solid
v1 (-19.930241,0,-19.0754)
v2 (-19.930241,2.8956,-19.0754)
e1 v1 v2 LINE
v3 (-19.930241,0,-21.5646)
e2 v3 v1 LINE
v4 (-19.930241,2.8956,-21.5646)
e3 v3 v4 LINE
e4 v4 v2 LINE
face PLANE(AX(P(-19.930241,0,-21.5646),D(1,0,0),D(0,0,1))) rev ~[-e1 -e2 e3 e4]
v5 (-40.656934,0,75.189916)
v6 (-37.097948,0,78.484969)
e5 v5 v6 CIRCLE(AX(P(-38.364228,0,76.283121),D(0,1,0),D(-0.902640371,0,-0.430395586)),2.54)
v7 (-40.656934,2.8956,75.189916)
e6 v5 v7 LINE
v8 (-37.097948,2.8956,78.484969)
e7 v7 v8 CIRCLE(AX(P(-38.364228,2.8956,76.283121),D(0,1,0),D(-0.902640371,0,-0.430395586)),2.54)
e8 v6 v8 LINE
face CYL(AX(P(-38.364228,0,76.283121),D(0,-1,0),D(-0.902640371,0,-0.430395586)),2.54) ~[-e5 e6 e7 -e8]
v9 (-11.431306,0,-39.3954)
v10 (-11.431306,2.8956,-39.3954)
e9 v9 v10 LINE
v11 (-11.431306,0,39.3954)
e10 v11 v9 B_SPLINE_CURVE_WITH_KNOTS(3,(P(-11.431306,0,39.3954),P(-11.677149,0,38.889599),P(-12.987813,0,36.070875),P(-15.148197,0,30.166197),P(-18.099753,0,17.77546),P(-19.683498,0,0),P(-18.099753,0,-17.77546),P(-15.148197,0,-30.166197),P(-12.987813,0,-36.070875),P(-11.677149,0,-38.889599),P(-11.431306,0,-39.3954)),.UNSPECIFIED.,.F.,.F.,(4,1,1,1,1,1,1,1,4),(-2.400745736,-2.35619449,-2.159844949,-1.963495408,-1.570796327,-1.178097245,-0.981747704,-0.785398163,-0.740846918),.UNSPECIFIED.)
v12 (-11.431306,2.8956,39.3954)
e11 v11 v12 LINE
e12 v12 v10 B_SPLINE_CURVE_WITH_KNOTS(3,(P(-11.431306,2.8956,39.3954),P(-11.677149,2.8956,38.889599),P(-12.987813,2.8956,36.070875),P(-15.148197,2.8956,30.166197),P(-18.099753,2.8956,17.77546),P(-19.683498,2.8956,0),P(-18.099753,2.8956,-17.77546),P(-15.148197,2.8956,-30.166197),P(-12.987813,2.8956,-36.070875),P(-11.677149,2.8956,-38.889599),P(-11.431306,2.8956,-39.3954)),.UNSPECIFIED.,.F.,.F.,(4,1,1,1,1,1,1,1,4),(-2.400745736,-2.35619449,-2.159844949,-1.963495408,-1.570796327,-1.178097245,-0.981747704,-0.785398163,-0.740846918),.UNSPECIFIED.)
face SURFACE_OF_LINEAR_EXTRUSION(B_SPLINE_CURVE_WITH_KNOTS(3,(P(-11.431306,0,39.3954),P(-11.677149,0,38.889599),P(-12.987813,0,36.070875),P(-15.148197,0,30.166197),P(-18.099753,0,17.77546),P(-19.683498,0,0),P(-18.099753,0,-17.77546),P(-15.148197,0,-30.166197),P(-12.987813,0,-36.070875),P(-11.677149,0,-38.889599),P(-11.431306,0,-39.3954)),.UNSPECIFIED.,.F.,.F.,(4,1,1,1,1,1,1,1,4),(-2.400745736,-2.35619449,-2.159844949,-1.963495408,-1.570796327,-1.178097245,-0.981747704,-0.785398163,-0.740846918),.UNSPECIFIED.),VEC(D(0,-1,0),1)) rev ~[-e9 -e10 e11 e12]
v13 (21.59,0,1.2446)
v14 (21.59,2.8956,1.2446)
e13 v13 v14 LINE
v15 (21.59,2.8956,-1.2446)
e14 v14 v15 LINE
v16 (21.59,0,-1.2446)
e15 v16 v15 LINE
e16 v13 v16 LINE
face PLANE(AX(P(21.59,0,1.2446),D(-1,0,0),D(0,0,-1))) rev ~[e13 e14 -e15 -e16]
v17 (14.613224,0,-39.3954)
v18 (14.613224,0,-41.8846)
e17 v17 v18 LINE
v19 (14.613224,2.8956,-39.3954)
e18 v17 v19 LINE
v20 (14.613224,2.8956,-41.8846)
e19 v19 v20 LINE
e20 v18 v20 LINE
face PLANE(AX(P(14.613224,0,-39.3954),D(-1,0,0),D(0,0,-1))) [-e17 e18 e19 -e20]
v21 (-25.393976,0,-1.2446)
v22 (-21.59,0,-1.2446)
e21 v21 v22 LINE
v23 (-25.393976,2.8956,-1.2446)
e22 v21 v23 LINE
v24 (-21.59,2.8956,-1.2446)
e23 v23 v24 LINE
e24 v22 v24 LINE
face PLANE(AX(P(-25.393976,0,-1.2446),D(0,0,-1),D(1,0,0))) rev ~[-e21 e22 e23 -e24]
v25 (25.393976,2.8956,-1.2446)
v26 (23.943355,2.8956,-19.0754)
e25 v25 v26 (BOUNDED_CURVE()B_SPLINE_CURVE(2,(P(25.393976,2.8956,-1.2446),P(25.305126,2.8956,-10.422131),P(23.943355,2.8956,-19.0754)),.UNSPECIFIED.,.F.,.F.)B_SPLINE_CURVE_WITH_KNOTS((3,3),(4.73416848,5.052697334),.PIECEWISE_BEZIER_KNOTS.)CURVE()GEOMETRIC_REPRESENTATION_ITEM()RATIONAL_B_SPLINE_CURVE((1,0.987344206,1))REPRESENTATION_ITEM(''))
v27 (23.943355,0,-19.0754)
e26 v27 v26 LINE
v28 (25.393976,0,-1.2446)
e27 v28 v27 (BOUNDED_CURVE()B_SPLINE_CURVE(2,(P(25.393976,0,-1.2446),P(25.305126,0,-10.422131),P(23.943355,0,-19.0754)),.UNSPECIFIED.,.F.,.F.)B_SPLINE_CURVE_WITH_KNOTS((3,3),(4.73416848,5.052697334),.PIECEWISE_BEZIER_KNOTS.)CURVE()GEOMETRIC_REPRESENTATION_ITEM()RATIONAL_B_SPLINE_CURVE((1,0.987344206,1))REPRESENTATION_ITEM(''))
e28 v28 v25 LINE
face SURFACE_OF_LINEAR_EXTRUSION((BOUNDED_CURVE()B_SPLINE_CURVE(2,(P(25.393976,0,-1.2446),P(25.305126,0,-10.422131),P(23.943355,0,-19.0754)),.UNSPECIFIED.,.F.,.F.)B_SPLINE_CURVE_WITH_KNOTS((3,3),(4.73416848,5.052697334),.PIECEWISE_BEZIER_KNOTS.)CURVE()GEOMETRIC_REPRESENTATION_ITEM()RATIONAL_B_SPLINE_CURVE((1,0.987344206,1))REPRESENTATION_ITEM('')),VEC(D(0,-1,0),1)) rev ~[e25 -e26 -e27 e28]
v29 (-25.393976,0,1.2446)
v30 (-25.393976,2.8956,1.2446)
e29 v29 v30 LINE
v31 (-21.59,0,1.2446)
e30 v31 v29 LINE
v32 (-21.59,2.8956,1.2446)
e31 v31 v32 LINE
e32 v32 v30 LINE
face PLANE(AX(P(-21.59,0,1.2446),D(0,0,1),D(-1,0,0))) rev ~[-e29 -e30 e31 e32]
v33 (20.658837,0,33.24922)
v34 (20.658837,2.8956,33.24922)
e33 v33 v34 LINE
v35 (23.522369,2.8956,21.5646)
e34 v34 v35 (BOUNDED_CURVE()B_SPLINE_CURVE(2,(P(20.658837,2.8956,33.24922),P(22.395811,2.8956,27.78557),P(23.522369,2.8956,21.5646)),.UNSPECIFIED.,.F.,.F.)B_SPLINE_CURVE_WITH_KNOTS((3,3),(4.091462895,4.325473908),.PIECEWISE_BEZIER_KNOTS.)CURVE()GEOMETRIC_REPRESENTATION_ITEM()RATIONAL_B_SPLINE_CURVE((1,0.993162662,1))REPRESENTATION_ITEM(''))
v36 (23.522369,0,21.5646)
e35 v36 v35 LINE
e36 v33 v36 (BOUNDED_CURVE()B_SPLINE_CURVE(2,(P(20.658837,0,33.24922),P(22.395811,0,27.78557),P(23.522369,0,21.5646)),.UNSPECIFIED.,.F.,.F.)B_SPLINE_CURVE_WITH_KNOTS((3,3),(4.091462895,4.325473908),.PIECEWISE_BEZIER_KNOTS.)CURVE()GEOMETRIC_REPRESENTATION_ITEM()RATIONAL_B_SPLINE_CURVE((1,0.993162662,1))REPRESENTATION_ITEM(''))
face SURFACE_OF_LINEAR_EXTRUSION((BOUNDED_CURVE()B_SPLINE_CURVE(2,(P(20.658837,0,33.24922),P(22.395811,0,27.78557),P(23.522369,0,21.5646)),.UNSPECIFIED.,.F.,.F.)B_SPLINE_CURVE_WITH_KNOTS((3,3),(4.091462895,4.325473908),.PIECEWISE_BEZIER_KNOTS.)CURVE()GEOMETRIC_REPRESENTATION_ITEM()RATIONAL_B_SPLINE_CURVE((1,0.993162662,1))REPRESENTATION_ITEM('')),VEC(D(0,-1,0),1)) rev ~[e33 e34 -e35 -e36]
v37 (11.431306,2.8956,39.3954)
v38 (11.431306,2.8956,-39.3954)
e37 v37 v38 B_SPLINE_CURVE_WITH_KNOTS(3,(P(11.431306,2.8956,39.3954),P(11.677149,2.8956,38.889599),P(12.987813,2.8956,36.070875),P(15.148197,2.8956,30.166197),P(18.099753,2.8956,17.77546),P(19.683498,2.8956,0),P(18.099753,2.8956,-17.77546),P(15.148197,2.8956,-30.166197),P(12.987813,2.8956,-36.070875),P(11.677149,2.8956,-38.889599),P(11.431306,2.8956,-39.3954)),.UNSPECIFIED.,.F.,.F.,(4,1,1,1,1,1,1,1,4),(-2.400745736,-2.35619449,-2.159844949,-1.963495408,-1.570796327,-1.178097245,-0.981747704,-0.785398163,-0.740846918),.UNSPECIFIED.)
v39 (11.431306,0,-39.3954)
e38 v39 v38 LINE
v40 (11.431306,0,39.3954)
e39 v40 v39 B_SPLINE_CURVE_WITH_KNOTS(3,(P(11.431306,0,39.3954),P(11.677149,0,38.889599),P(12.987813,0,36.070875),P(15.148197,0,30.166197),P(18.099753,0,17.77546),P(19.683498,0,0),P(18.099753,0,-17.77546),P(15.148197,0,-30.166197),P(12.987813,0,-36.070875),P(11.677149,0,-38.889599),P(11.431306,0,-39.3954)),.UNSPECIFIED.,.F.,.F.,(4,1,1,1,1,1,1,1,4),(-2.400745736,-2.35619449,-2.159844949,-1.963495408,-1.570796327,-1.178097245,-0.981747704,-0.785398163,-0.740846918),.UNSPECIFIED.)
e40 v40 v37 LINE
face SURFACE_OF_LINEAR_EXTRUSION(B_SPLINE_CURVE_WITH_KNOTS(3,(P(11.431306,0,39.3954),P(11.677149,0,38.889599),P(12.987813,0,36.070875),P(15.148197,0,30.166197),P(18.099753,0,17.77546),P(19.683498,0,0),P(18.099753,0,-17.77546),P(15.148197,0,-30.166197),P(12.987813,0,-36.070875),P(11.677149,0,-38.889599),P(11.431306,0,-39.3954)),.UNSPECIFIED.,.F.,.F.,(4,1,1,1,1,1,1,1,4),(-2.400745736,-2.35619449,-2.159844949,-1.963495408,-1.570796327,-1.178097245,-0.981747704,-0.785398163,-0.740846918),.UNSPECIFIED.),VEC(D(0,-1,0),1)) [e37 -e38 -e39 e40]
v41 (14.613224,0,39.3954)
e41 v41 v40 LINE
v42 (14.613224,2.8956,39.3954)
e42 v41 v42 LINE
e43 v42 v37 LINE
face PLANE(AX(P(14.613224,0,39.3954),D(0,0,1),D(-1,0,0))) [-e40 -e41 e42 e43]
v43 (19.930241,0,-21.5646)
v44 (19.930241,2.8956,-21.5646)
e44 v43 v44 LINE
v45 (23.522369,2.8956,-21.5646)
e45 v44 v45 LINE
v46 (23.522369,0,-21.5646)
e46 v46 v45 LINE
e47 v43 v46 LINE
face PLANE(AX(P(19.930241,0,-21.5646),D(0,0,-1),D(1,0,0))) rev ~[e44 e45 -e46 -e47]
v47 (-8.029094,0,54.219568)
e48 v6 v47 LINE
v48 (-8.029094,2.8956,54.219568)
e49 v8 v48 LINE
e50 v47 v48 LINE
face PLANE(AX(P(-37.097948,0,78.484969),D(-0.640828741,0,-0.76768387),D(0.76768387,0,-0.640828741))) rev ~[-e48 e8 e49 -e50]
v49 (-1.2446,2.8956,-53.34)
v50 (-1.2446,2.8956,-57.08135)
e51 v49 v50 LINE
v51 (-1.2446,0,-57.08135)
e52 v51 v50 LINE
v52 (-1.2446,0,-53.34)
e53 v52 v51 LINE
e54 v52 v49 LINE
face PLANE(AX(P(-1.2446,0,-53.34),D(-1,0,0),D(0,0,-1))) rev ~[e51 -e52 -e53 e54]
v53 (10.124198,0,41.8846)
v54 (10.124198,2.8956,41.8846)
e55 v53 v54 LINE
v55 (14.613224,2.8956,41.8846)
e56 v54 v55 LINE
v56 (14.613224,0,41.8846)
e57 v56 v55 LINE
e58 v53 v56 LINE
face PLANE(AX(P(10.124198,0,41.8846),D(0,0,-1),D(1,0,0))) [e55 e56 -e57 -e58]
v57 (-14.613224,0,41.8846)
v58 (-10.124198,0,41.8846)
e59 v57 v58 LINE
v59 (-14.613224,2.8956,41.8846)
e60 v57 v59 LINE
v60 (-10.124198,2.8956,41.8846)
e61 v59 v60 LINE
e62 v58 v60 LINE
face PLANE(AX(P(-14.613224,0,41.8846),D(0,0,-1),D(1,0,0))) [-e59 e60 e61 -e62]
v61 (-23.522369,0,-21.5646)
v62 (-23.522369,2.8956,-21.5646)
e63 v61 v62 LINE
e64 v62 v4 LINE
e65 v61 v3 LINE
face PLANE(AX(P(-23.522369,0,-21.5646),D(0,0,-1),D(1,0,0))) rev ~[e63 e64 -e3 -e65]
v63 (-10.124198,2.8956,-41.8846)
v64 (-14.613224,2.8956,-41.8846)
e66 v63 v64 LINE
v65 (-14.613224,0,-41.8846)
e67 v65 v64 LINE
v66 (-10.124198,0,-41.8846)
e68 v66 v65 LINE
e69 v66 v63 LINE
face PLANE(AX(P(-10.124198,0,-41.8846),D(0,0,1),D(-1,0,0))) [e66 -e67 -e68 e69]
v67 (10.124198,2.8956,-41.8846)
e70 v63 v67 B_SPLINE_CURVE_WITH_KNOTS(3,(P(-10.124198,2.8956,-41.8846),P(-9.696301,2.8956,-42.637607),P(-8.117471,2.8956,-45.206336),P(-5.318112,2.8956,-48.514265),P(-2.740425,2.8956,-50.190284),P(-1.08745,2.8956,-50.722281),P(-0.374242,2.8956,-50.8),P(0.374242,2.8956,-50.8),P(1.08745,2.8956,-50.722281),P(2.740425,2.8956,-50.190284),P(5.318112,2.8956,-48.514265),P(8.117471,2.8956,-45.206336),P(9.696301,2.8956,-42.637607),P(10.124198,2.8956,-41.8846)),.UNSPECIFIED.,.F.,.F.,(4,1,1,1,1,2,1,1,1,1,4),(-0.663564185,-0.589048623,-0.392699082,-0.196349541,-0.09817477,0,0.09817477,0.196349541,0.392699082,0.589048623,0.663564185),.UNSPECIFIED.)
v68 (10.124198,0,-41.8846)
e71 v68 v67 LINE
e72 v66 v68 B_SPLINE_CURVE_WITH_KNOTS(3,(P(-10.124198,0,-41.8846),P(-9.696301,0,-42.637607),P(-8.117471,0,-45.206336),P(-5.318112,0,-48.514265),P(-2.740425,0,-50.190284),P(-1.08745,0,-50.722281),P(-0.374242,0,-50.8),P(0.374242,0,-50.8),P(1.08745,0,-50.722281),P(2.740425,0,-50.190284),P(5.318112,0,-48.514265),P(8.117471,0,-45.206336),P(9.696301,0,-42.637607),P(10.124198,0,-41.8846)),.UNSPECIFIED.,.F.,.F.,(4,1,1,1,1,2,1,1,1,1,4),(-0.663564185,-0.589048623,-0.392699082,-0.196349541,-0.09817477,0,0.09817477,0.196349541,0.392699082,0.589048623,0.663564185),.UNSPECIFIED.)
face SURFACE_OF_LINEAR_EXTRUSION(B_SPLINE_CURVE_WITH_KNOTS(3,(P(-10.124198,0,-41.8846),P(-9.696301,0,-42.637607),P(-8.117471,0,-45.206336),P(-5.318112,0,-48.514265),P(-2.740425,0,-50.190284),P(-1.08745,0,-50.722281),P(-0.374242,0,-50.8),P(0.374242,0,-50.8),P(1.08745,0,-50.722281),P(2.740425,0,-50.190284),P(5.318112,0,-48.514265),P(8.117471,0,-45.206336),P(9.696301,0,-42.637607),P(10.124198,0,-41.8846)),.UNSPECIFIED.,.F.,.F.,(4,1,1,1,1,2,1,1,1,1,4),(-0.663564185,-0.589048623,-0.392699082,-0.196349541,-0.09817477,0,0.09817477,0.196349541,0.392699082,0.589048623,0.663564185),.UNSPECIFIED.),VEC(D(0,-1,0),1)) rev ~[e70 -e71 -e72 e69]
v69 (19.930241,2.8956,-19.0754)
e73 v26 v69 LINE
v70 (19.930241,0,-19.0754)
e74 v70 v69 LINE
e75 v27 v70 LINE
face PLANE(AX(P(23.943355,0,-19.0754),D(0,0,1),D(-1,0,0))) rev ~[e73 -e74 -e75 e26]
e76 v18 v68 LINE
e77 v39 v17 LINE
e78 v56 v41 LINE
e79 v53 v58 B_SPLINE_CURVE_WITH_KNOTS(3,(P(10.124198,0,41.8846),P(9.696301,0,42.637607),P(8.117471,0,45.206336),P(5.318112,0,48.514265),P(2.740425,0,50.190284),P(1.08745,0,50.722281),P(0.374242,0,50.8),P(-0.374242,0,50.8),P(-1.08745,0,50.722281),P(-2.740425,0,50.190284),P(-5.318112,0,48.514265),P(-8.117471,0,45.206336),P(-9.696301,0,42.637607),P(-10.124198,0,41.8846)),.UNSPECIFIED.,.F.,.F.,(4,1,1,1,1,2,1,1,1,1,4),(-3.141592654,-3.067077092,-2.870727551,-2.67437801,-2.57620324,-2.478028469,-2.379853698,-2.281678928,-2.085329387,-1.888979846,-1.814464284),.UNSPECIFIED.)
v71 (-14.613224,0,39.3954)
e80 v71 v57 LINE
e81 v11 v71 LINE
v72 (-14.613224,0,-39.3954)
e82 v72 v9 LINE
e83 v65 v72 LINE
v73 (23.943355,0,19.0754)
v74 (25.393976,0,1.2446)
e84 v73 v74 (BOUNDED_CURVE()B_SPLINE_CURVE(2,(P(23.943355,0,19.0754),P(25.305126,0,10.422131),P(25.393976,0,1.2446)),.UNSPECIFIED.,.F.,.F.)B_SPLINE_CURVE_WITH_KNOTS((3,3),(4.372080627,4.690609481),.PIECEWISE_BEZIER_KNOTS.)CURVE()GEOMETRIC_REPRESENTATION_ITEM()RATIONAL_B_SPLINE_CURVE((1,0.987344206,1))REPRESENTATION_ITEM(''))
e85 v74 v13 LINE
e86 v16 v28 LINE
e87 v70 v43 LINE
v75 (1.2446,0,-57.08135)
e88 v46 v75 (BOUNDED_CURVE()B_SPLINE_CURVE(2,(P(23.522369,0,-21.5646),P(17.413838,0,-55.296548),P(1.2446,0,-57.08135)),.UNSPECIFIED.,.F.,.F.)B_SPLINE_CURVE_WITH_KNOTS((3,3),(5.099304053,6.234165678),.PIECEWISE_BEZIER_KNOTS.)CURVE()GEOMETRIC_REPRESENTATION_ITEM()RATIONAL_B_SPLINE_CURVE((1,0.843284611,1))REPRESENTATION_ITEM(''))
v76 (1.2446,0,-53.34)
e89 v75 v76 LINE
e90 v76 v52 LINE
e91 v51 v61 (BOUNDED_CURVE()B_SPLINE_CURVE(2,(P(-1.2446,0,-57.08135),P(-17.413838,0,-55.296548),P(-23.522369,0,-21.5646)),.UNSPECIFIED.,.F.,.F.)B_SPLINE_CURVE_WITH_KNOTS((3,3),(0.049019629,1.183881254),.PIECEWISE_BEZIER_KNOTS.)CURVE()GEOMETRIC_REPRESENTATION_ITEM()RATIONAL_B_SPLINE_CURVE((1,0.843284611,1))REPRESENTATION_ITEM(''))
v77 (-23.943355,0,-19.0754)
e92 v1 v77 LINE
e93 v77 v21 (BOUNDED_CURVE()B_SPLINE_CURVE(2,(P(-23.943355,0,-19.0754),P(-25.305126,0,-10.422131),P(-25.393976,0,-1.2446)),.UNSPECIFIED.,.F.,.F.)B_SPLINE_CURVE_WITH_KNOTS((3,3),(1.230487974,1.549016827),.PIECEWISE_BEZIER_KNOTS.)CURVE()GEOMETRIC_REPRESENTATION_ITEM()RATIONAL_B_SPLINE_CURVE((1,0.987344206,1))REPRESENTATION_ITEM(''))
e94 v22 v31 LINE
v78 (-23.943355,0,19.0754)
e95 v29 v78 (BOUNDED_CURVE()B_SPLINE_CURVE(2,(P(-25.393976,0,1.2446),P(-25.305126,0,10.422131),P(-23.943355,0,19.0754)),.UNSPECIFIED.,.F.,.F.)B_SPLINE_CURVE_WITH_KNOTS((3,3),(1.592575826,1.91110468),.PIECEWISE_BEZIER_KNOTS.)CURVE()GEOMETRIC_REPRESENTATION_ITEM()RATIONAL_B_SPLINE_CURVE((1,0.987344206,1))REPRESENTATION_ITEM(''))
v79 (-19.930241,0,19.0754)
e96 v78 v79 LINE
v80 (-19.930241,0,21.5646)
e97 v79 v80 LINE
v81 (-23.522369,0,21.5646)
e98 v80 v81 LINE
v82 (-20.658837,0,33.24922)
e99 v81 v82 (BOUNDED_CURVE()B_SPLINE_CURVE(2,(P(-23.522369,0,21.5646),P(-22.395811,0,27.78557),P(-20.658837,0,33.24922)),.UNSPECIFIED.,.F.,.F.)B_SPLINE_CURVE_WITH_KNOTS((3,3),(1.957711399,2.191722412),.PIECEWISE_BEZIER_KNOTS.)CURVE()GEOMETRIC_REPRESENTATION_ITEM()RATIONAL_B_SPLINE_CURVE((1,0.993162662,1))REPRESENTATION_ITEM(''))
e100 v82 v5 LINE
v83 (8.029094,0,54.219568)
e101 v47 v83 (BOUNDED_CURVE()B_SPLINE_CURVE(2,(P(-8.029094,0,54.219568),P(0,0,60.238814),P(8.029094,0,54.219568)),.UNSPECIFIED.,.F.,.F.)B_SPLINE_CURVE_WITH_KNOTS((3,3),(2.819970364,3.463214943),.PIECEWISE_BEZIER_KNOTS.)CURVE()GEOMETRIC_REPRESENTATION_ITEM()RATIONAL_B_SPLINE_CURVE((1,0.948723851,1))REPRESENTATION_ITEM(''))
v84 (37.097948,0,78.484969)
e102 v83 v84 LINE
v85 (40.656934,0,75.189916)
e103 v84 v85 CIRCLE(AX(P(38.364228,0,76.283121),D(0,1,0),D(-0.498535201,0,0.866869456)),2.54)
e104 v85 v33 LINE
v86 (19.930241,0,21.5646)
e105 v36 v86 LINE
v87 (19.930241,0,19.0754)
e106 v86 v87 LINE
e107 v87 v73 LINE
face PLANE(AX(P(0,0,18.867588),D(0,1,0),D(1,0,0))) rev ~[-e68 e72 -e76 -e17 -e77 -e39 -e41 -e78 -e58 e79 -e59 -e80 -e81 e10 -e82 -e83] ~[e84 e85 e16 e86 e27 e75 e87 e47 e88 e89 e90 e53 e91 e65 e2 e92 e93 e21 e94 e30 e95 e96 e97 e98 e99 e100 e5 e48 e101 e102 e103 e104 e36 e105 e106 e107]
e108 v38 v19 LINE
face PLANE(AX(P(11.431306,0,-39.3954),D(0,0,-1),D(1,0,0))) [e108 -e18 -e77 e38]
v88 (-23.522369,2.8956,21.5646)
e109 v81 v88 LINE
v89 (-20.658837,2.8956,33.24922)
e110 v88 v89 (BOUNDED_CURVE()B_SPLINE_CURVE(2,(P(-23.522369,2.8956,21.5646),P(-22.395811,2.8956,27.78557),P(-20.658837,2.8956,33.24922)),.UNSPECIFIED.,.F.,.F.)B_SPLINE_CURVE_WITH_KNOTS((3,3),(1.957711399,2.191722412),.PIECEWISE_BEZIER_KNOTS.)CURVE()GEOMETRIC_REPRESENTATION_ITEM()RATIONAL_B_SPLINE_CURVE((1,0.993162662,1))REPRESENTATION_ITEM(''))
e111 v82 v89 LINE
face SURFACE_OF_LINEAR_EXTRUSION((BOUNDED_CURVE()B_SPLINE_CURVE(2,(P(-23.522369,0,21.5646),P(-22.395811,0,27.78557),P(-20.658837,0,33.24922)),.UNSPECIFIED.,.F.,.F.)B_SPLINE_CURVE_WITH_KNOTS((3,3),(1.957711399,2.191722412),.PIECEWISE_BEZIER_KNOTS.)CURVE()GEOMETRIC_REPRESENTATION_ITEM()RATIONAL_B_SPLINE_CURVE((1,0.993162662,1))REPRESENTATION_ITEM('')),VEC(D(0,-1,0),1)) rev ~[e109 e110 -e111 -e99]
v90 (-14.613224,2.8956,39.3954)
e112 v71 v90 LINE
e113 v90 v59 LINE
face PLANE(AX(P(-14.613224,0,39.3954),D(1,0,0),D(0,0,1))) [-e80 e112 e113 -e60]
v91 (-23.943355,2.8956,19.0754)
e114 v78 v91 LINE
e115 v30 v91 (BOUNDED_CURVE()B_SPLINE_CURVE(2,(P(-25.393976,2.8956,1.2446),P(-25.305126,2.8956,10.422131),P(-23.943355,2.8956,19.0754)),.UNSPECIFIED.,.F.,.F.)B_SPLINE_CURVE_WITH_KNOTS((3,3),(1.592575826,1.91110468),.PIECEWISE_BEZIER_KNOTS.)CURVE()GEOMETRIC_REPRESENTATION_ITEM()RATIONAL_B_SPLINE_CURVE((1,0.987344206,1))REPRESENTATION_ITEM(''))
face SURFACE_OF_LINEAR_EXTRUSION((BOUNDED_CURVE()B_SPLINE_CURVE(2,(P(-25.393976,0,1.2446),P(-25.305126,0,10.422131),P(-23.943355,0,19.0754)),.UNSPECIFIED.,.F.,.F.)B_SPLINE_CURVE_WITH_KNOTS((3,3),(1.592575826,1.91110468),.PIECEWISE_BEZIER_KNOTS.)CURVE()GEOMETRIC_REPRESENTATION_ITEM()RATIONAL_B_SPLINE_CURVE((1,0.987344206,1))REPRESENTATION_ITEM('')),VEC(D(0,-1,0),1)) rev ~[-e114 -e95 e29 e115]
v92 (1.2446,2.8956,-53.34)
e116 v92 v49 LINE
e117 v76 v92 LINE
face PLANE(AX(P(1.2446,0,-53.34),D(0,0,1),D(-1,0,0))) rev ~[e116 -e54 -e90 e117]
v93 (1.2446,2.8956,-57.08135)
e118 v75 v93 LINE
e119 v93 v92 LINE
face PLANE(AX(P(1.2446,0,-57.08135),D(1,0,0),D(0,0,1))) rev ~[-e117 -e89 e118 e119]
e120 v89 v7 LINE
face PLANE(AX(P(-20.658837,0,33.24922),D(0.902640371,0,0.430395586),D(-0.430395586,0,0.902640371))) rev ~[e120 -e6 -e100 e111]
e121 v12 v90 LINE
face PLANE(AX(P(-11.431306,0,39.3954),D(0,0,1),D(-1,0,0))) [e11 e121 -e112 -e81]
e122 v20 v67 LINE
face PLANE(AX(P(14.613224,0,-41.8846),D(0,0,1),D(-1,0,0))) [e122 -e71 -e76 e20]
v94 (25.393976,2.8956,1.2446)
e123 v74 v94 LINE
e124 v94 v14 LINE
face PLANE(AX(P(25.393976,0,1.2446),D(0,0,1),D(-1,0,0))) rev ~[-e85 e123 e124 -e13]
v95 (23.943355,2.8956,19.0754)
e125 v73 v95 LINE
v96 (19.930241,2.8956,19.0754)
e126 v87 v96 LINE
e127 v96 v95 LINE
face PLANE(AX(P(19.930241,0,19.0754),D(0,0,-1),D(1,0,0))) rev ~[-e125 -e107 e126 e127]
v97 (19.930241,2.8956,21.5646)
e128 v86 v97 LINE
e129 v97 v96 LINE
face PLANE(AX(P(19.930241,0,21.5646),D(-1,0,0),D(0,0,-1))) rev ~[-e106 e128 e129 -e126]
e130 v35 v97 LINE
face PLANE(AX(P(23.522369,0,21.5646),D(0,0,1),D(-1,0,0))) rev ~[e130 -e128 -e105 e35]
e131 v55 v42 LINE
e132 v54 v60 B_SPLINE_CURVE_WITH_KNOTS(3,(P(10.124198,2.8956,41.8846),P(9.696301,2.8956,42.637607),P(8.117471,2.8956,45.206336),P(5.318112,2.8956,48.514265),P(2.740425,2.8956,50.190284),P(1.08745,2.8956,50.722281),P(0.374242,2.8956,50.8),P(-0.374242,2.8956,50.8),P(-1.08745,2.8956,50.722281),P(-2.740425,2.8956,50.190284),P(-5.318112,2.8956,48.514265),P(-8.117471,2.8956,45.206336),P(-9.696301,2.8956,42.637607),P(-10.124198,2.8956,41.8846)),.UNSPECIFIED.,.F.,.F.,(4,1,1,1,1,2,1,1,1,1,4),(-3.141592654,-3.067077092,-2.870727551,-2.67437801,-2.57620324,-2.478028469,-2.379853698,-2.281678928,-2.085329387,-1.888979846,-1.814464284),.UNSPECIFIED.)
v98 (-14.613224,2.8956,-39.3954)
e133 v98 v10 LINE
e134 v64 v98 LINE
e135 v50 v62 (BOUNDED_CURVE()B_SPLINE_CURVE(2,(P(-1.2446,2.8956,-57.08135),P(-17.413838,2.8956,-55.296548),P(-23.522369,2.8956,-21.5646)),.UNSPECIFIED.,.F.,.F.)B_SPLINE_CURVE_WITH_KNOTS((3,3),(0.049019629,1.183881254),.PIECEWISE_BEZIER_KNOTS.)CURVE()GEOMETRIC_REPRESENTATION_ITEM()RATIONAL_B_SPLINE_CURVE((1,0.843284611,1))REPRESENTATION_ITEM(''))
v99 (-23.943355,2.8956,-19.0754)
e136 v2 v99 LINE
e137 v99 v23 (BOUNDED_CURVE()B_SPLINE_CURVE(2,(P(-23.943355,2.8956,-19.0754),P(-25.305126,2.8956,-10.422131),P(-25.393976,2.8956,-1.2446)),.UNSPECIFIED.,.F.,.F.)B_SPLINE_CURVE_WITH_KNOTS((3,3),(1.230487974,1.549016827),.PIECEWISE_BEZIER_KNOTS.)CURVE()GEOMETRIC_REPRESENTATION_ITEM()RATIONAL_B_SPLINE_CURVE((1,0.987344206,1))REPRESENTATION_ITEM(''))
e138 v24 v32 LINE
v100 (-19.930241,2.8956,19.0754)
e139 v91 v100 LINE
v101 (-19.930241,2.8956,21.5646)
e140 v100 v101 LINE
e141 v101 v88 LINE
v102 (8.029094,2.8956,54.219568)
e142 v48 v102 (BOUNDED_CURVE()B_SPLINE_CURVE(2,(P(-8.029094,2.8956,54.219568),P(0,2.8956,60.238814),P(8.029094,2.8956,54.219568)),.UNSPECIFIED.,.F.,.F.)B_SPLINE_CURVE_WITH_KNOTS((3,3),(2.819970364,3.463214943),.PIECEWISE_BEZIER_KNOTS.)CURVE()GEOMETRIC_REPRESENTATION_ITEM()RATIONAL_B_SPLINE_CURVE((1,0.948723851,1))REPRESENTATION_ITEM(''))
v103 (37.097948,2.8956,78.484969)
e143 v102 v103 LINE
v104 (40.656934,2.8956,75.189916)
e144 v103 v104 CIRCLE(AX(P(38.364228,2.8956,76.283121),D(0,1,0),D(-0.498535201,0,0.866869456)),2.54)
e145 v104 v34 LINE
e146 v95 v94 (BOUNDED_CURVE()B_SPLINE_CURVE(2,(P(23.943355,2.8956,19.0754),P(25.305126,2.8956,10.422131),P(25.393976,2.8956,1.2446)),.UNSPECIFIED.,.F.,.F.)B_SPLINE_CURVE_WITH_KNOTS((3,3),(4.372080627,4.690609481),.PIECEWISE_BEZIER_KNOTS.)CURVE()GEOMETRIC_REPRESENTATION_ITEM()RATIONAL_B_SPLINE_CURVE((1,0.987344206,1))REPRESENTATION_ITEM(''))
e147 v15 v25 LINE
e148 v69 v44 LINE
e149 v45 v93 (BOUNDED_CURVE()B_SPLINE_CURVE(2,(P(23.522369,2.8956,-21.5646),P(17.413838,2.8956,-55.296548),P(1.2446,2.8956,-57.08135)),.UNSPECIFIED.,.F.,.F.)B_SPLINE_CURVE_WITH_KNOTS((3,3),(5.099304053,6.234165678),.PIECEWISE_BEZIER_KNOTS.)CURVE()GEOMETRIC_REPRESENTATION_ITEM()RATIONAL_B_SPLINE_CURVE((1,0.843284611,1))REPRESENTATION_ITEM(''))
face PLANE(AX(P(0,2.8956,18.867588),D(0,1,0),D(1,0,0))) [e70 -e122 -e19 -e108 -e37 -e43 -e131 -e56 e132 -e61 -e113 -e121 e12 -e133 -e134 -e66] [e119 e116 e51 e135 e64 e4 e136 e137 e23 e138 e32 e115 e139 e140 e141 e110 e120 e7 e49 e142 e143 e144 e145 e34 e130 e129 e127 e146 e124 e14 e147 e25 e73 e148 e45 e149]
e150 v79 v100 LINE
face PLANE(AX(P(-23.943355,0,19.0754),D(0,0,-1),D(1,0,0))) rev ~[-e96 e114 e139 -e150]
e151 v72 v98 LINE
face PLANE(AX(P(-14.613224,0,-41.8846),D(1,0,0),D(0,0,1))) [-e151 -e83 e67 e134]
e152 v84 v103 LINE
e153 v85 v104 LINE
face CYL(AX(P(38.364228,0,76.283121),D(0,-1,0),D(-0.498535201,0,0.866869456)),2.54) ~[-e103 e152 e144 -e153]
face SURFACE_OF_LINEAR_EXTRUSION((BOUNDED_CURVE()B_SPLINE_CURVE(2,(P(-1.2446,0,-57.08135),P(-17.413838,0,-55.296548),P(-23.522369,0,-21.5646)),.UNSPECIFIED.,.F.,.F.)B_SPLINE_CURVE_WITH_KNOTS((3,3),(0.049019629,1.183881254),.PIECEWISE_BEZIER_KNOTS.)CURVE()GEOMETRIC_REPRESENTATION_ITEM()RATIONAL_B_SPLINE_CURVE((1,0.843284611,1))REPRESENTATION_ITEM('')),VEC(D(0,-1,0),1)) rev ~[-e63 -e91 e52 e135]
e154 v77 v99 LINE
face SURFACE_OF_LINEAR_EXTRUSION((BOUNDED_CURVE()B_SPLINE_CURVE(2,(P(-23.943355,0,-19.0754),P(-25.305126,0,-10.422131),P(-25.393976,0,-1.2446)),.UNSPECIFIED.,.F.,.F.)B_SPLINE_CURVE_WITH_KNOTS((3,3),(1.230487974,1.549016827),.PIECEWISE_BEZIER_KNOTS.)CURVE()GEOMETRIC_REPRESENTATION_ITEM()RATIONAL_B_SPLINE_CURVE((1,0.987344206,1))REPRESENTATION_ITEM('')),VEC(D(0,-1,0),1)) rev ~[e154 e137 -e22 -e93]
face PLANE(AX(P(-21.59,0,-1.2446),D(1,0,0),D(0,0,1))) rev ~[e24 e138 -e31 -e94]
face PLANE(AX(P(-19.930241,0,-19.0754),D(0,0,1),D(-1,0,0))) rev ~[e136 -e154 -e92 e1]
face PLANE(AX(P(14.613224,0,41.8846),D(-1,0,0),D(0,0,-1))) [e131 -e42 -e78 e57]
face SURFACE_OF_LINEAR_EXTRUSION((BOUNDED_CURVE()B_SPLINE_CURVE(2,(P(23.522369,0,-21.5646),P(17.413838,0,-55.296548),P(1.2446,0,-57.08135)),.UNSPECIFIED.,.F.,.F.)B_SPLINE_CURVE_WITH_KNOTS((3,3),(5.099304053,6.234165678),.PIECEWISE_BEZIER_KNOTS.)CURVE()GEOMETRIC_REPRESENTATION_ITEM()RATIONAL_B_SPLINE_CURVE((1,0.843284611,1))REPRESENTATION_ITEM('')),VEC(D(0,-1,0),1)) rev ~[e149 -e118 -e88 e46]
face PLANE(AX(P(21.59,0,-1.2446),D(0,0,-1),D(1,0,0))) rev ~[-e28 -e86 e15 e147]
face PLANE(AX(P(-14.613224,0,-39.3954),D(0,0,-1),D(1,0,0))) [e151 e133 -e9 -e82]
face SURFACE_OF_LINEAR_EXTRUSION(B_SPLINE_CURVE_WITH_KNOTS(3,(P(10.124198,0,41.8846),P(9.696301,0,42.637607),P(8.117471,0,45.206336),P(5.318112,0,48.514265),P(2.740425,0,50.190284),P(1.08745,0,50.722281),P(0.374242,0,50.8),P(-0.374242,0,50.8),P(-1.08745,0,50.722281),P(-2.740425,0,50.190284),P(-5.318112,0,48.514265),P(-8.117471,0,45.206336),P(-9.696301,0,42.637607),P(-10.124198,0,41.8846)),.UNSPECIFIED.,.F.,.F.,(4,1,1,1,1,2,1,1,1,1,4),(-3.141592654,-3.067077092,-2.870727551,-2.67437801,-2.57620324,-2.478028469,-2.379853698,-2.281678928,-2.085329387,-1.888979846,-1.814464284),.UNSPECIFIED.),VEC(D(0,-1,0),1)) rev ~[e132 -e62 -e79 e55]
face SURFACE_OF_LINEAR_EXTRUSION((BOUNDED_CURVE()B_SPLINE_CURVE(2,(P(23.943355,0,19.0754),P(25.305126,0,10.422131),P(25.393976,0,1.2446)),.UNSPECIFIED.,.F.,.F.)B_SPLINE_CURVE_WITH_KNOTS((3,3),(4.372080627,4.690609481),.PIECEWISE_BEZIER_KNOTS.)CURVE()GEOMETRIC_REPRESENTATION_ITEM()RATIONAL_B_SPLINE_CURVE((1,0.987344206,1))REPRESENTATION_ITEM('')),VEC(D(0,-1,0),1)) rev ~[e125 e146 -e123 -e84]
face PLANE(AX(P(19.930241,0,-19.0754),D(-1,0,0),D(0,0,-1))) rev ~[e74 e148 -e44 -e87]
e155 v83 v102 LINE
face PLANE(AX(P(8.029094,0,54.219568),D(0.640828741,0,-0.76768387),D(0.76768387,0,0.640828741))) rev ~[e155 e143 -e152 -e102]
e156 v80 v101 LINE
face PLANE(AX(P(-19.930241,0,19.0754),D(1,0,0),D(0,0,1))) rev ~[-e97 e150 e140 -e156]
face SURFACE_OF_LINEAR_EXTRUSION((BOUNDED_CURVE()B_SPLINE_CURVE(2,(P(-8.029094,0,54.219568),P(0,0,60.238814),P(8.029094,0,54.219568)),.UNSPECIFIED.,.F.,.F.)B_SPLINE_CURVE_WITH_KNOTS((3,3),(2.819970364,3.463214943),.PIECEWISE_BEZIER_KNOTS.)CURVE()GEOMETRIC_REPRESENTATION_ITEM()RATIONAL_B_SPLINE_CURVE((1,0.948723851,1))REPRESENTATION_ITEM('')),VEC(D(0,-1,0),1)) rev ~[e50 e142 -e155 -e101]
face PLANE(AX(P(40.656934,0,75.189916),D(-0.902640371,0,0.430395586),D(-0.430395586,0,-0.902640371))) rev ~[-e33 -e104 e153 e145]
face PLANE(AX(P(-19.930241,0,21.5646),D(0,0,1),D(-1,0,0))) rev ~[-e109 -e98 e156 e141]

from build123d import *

# Parameters (mm, degrees)
BOSS_EXTRUDE2_DEPTH = 2.8956


with BuildPart() as part:
    # Sketch1 → Boss-Extrude2 (new body)
    with BuildSketch(Plane(origin=(0, 0, 0), x_dir=(1, 0, 0), z_dir=(0, 1, 0))):
        with BuildLine():
            Line((21.59, 1.2446), (25.393976036, 1.2446))
            add(Edge.make_bspline(
                [(25.393976036, 1.2446), (25.305125525, 10.422131382), (23.943355437, 19.0754)],
                knots=[4.73416848, 4.73416848, 4.73416848, 5.052697334, 5.052697334, 5.052697334], degree=2, weights=[1, 0.987344206, 1]))
            Line((23.943355437, 19.0754), (19.930240776, 19.0754))
            Line((19.930240776, 19.0754), (19.930240776, 21.5646))
            Line((19.930240776, 21.5646), (23.522368768, 21.5646))
            add(Edge.make_bspline(
                [(23.522368768, 21.5646), (17.413838434, 55.296547713), (1.2446, 57.081350193)],
                knots=[5.099304053, 5.099304053, 5.099304053, 6.234165678, 6.234165678, 6.234165678], degree=2, weights=[1, 0.843284611, 1]))
            Line((1.2446, 57.081350193), (1.2446, 53.34))
            Line((1.2446, 53.34), (-1.2446, 53.34))
            Line((-1.2446, 53.34), (-1.2446, 57.081350193))
            add(Edge.make_bspline(
                [(-1.2446, 57.081350193), (-17.413838434, 55.296547713), (-23.522368768, 21.5646)],
                knots=[0.049019629, 0.049019629, 0.049019629, 1.183881254, 1.183881254, 1.183881254], degree=2, weights=[1, 0.843284611, 1]))
            Line((-23.522368768, 21.5646), (-19.930240776, 21.5646))
            Line((-19.930240776, 21.5646), (-19.930240776, 19.0754))
            Line((-19.930240776, 19.0754), (-23.943355437, 19.0754))
            add(Edge.make_bspline(
                [(-23.943355437, 19.0754), (-25.305125525, 10.422131382), (-25.393976036, 1.2446)],
                knots=[1.230487974, 1.230487974, 1.230487974, 1.549016827, 1.549016827, 1.549016827], degree=2, weights=[1, 0.987344206, 1]))
            Line((-25.393976036, 1.2446), (-21.59, 1.2446))
            Line((-21.59, 1.2446), (-21.59, -1.2446))
            Line((-21.59, -1.2446), (-25.393976036, -1.2446))
            add(Edge.make_bspline(
                [(-25.393976036, -1.2446), (-25.305125525, -10.422131382), (-23.943355437, -19.0754)],
                knots=[1.592575826, 1.592575826, 1.592575826, 1.91110468, 1.91110468, 1.91110468], degree=2, weights=[1, 0.987344206, 1]))
            Line((-23.943355437, -19.0754), (-19.930240776, -19.0754))
            Line((-19.930240776, -19.0754), (-19.930240776, -21.5646))
            Line((-19.930240776, -21.5646), (-23.522368768, -21.5646))
            add(Edge.make_bspline(
                [(-23.522368768, -21.5646), (-22.395811131, -27.785569894), (-20.658836503, -33.249220312)],
                knots=[1.957711399, 1.957711399, 1.957711399, 2.191722412, 2.191722412, 2.191722412], degree=2, weights=[1, 0.993162662, 1]))
            Line((-20.658836503, -33.249220312), (-40.656934115, -75.189915873))
            ThreePointArc((-40.656934115, -75.189915873), (-40.089838211, -78.146952179), (-37.097948163, -78.484969079))
            Line((-37.097948163, -78.484969079), (-8.029094451, -54.219568092))
            add(Edge.make_bspline(
                [(-8.029094451, -54.219568092), (0, -60.238814416), (8.029094451, -54.219568092)],
                knots=[2.819970364, 2.819970364, 2.819970364, 3.463214943, 3.463214943, 3.463214943], degree=2, weights=[1, 0.948723851, 1]))
            Line((8.029094451, -54.219568092), (37.097948163, -78.484969079))
            ThreePointArc((37.097948163, -78.484969079), (40.089838211, -78.146952179), (40.656934115, -75.189915873))
            Line((40.656934115, -75.189915873), (20.658836503, -33.249220312))
            add(Edge.make_bspline(
                [(20.658836503, -33.249220312), (22.395811131, -27.785569894), (23.522368768, -21.5646)],
                knots=[4.091462895, 4.091462895, 4.091462895, 4.325473908, 4.325473908, 4.325473908], degree=2, weights=[1, 0.993162662, 1]))
            Line((23.522368768, -21.5646), (19.930240776, -21.5646))
            Line((19.930240776, -21.5646), (19.930240776, -19.0754))
            Line((19.930240776, -19.0754), (23.943355437, -19.0754))
            add(Edge.make_bspline(
                [(23.943355437, -19.0754), (25.305125525, -10.422131382), (25.393976036, -1.2446)],
                knots=[4.372080627, 4.372080627, 4.372080627, 4.690609481, 4.690609481, 4.690609481], degree=2, weights=[1, 0.987344206, 1]))
            Line((25.393976036, -1.2446), (21.59, -1.2446))
            Line((21.59, -1.2446), (21.59, 1.2446))
        make_face()
        with BuildLine():
            Line((-14.613224312, -41.884600001), (-10.124198394, -41.884600001))
            add(Edge.make_bspline(
                [(0, -50.8), (-0.374242122, -50.8), (-1.087449753, -50.722280744), (-2.740425126, -50.190283538), (-5.318112389, -48.514264833), (-8.117471478, -45.20633596), (-9.696301311, -42.637606864), (-10.124198394, -41.884600001)],
                knots=[-3.141592654, -3.141592654, -3.141592654, -3.141592654, -3.043417883, -2.945243113, -2.748893572, -2.552544031, -2.478028469, -2.478028469, -2.478028469, -2.478028469], degree=3))
            add(Edge.make_bspline(
                [(0, -50.8), (0.374242122, -50.8), (1.087449753, -50.722280744), (2.740425126, -50.190283538), (5.318112389, -48.514264833), (8.117471478, -45.20633596), (9.696301311, -42.637606864), (10.124198394, -41.884600001)],
                knots=[-3.141592654, -3.141592654, -3.141592654, -3.141592654, -3.043417883, -2.945243113, -2.748893572, -2.552544031, -2.478028469, -2.478028469, -2.478028469, -2.478028469], degree=3))
            Line((10.124198394, -41.884600001), (14.613224312, -41.884600001))
            Line((14.613224312, -41.884600001), (14.613224312, -39.395400001))
            Line((14.613224312, -39.395400001), (11.431305901, -39.395400001))
            add(Edge.make_bspline(
                [(11.431305901, -39.395400001), (11.677149239, -38.889598832), (12.987812642, -36.070874709), (15.148196965, -30.166196648), (18.099752632, -17.775460251), (19.683498245, 0), (18.099752632, 17.775460251), (15.148196965, 30.166196648), (12.987812642, 36.070874709), (11.677149239, 38.889598832), (11.431305901, 39.395400001)],
                knots=[-2.400745736, -2.400745736, -2.400745736, -2.400745736, -2.35619449, -2.159844949, -1.963495408, -1.570796327, -1.178097245, -0.981747704, -0.785398163, -0.740846918, -0.740846918, -0.740846918, -0.740846918], degree=3))
            Line((11.431305901, 39.395400001), (14.613224312, 39.395400001))
            Line((14.613224312, 39.395400001), (14.613224312, 41.884600001))
            Line((14.613224312, 41.884600001), (10.124198394, 41.884600001))
            add(Edge.make_bspline(
                [(10.124198394, 41.884600001), (9.696301311, 42.637606864), (8.117471478, 45.20633596), (5.318112389, 48.514264833), (2.740425126, 50.190283538), (1.087449753, 50.722280744), (0.374242122, 50.8), (0, 50.8)],
                knots=[-0.663564185, -0.663564185, -0.663564185, -0.663564185, -0.589048623, -0.392699082, -0.196349541, -0.09817477, 0, 0, 0, 0], degree=3))
            add(Edge.make_bspline(
                [(-10.124198394, 41.884600001), (-9.696301311, 42.637606864), (-8.117471478, 45.20633596), (-5.318112389, 48.514264833), (-2.740425126, 50.190283538), (-1.087449753, 50.722280744), (-0.374242122, 50.8), (0, 50.8)],
                knots=[-0.663564185, -0.663564185, -0.663564185, -0.663564185, -0.589048623, -0.392699082, -0.196349541, -0.09817477, 0, 0, 0, 0], degree=3))
            Line((-10.124198394, 41.884600001), (-14.613224312, 41.884600001))
            Line((-14.613224312, 41.884600001), (-14.613224312, 39.395400001))
            Line((-14.613224312, 39.395400001), (-11.431305901, 39.395400001))
            add(Edge.make_bspline(
                [(-11.431305901, -39.395400001), (-11.677149239, -38.889598832), (-12.987812642, -36.070874709), (-15.148196965, -30.166196648), (-18.099752632, -17.775460251), (-19.683498245, 0), (-18.099752632, 17.775460251), (-15.148196965, 30.166196648), (-12.987812642, 36.070874709), (-11.677149239, 38.889598832), (-11.431305901, 39.395400001)],
                knots=[-2.400745736, -2.400745736, -2.400745736, -2.400745736, -2.35619449, -2.159844949, -1.963495408, -1.570796327, -1.178097245, -0.981747704, -0.785398163, -0.740846918, -0.740846918, -0.740846918, -0.740846918], degree=3))
            Line((-11.431305901, -39.395400001), (-14.613224312, -39.395400001))
            Line((-14.613224312, -39.395400001), (-14.613224312, -41.884600001))
        make_face(mode=Mode.SUBTRACT)
    extrude(amount=BOSS_EXTRUDE2_DEPTH)


solid = part.part
